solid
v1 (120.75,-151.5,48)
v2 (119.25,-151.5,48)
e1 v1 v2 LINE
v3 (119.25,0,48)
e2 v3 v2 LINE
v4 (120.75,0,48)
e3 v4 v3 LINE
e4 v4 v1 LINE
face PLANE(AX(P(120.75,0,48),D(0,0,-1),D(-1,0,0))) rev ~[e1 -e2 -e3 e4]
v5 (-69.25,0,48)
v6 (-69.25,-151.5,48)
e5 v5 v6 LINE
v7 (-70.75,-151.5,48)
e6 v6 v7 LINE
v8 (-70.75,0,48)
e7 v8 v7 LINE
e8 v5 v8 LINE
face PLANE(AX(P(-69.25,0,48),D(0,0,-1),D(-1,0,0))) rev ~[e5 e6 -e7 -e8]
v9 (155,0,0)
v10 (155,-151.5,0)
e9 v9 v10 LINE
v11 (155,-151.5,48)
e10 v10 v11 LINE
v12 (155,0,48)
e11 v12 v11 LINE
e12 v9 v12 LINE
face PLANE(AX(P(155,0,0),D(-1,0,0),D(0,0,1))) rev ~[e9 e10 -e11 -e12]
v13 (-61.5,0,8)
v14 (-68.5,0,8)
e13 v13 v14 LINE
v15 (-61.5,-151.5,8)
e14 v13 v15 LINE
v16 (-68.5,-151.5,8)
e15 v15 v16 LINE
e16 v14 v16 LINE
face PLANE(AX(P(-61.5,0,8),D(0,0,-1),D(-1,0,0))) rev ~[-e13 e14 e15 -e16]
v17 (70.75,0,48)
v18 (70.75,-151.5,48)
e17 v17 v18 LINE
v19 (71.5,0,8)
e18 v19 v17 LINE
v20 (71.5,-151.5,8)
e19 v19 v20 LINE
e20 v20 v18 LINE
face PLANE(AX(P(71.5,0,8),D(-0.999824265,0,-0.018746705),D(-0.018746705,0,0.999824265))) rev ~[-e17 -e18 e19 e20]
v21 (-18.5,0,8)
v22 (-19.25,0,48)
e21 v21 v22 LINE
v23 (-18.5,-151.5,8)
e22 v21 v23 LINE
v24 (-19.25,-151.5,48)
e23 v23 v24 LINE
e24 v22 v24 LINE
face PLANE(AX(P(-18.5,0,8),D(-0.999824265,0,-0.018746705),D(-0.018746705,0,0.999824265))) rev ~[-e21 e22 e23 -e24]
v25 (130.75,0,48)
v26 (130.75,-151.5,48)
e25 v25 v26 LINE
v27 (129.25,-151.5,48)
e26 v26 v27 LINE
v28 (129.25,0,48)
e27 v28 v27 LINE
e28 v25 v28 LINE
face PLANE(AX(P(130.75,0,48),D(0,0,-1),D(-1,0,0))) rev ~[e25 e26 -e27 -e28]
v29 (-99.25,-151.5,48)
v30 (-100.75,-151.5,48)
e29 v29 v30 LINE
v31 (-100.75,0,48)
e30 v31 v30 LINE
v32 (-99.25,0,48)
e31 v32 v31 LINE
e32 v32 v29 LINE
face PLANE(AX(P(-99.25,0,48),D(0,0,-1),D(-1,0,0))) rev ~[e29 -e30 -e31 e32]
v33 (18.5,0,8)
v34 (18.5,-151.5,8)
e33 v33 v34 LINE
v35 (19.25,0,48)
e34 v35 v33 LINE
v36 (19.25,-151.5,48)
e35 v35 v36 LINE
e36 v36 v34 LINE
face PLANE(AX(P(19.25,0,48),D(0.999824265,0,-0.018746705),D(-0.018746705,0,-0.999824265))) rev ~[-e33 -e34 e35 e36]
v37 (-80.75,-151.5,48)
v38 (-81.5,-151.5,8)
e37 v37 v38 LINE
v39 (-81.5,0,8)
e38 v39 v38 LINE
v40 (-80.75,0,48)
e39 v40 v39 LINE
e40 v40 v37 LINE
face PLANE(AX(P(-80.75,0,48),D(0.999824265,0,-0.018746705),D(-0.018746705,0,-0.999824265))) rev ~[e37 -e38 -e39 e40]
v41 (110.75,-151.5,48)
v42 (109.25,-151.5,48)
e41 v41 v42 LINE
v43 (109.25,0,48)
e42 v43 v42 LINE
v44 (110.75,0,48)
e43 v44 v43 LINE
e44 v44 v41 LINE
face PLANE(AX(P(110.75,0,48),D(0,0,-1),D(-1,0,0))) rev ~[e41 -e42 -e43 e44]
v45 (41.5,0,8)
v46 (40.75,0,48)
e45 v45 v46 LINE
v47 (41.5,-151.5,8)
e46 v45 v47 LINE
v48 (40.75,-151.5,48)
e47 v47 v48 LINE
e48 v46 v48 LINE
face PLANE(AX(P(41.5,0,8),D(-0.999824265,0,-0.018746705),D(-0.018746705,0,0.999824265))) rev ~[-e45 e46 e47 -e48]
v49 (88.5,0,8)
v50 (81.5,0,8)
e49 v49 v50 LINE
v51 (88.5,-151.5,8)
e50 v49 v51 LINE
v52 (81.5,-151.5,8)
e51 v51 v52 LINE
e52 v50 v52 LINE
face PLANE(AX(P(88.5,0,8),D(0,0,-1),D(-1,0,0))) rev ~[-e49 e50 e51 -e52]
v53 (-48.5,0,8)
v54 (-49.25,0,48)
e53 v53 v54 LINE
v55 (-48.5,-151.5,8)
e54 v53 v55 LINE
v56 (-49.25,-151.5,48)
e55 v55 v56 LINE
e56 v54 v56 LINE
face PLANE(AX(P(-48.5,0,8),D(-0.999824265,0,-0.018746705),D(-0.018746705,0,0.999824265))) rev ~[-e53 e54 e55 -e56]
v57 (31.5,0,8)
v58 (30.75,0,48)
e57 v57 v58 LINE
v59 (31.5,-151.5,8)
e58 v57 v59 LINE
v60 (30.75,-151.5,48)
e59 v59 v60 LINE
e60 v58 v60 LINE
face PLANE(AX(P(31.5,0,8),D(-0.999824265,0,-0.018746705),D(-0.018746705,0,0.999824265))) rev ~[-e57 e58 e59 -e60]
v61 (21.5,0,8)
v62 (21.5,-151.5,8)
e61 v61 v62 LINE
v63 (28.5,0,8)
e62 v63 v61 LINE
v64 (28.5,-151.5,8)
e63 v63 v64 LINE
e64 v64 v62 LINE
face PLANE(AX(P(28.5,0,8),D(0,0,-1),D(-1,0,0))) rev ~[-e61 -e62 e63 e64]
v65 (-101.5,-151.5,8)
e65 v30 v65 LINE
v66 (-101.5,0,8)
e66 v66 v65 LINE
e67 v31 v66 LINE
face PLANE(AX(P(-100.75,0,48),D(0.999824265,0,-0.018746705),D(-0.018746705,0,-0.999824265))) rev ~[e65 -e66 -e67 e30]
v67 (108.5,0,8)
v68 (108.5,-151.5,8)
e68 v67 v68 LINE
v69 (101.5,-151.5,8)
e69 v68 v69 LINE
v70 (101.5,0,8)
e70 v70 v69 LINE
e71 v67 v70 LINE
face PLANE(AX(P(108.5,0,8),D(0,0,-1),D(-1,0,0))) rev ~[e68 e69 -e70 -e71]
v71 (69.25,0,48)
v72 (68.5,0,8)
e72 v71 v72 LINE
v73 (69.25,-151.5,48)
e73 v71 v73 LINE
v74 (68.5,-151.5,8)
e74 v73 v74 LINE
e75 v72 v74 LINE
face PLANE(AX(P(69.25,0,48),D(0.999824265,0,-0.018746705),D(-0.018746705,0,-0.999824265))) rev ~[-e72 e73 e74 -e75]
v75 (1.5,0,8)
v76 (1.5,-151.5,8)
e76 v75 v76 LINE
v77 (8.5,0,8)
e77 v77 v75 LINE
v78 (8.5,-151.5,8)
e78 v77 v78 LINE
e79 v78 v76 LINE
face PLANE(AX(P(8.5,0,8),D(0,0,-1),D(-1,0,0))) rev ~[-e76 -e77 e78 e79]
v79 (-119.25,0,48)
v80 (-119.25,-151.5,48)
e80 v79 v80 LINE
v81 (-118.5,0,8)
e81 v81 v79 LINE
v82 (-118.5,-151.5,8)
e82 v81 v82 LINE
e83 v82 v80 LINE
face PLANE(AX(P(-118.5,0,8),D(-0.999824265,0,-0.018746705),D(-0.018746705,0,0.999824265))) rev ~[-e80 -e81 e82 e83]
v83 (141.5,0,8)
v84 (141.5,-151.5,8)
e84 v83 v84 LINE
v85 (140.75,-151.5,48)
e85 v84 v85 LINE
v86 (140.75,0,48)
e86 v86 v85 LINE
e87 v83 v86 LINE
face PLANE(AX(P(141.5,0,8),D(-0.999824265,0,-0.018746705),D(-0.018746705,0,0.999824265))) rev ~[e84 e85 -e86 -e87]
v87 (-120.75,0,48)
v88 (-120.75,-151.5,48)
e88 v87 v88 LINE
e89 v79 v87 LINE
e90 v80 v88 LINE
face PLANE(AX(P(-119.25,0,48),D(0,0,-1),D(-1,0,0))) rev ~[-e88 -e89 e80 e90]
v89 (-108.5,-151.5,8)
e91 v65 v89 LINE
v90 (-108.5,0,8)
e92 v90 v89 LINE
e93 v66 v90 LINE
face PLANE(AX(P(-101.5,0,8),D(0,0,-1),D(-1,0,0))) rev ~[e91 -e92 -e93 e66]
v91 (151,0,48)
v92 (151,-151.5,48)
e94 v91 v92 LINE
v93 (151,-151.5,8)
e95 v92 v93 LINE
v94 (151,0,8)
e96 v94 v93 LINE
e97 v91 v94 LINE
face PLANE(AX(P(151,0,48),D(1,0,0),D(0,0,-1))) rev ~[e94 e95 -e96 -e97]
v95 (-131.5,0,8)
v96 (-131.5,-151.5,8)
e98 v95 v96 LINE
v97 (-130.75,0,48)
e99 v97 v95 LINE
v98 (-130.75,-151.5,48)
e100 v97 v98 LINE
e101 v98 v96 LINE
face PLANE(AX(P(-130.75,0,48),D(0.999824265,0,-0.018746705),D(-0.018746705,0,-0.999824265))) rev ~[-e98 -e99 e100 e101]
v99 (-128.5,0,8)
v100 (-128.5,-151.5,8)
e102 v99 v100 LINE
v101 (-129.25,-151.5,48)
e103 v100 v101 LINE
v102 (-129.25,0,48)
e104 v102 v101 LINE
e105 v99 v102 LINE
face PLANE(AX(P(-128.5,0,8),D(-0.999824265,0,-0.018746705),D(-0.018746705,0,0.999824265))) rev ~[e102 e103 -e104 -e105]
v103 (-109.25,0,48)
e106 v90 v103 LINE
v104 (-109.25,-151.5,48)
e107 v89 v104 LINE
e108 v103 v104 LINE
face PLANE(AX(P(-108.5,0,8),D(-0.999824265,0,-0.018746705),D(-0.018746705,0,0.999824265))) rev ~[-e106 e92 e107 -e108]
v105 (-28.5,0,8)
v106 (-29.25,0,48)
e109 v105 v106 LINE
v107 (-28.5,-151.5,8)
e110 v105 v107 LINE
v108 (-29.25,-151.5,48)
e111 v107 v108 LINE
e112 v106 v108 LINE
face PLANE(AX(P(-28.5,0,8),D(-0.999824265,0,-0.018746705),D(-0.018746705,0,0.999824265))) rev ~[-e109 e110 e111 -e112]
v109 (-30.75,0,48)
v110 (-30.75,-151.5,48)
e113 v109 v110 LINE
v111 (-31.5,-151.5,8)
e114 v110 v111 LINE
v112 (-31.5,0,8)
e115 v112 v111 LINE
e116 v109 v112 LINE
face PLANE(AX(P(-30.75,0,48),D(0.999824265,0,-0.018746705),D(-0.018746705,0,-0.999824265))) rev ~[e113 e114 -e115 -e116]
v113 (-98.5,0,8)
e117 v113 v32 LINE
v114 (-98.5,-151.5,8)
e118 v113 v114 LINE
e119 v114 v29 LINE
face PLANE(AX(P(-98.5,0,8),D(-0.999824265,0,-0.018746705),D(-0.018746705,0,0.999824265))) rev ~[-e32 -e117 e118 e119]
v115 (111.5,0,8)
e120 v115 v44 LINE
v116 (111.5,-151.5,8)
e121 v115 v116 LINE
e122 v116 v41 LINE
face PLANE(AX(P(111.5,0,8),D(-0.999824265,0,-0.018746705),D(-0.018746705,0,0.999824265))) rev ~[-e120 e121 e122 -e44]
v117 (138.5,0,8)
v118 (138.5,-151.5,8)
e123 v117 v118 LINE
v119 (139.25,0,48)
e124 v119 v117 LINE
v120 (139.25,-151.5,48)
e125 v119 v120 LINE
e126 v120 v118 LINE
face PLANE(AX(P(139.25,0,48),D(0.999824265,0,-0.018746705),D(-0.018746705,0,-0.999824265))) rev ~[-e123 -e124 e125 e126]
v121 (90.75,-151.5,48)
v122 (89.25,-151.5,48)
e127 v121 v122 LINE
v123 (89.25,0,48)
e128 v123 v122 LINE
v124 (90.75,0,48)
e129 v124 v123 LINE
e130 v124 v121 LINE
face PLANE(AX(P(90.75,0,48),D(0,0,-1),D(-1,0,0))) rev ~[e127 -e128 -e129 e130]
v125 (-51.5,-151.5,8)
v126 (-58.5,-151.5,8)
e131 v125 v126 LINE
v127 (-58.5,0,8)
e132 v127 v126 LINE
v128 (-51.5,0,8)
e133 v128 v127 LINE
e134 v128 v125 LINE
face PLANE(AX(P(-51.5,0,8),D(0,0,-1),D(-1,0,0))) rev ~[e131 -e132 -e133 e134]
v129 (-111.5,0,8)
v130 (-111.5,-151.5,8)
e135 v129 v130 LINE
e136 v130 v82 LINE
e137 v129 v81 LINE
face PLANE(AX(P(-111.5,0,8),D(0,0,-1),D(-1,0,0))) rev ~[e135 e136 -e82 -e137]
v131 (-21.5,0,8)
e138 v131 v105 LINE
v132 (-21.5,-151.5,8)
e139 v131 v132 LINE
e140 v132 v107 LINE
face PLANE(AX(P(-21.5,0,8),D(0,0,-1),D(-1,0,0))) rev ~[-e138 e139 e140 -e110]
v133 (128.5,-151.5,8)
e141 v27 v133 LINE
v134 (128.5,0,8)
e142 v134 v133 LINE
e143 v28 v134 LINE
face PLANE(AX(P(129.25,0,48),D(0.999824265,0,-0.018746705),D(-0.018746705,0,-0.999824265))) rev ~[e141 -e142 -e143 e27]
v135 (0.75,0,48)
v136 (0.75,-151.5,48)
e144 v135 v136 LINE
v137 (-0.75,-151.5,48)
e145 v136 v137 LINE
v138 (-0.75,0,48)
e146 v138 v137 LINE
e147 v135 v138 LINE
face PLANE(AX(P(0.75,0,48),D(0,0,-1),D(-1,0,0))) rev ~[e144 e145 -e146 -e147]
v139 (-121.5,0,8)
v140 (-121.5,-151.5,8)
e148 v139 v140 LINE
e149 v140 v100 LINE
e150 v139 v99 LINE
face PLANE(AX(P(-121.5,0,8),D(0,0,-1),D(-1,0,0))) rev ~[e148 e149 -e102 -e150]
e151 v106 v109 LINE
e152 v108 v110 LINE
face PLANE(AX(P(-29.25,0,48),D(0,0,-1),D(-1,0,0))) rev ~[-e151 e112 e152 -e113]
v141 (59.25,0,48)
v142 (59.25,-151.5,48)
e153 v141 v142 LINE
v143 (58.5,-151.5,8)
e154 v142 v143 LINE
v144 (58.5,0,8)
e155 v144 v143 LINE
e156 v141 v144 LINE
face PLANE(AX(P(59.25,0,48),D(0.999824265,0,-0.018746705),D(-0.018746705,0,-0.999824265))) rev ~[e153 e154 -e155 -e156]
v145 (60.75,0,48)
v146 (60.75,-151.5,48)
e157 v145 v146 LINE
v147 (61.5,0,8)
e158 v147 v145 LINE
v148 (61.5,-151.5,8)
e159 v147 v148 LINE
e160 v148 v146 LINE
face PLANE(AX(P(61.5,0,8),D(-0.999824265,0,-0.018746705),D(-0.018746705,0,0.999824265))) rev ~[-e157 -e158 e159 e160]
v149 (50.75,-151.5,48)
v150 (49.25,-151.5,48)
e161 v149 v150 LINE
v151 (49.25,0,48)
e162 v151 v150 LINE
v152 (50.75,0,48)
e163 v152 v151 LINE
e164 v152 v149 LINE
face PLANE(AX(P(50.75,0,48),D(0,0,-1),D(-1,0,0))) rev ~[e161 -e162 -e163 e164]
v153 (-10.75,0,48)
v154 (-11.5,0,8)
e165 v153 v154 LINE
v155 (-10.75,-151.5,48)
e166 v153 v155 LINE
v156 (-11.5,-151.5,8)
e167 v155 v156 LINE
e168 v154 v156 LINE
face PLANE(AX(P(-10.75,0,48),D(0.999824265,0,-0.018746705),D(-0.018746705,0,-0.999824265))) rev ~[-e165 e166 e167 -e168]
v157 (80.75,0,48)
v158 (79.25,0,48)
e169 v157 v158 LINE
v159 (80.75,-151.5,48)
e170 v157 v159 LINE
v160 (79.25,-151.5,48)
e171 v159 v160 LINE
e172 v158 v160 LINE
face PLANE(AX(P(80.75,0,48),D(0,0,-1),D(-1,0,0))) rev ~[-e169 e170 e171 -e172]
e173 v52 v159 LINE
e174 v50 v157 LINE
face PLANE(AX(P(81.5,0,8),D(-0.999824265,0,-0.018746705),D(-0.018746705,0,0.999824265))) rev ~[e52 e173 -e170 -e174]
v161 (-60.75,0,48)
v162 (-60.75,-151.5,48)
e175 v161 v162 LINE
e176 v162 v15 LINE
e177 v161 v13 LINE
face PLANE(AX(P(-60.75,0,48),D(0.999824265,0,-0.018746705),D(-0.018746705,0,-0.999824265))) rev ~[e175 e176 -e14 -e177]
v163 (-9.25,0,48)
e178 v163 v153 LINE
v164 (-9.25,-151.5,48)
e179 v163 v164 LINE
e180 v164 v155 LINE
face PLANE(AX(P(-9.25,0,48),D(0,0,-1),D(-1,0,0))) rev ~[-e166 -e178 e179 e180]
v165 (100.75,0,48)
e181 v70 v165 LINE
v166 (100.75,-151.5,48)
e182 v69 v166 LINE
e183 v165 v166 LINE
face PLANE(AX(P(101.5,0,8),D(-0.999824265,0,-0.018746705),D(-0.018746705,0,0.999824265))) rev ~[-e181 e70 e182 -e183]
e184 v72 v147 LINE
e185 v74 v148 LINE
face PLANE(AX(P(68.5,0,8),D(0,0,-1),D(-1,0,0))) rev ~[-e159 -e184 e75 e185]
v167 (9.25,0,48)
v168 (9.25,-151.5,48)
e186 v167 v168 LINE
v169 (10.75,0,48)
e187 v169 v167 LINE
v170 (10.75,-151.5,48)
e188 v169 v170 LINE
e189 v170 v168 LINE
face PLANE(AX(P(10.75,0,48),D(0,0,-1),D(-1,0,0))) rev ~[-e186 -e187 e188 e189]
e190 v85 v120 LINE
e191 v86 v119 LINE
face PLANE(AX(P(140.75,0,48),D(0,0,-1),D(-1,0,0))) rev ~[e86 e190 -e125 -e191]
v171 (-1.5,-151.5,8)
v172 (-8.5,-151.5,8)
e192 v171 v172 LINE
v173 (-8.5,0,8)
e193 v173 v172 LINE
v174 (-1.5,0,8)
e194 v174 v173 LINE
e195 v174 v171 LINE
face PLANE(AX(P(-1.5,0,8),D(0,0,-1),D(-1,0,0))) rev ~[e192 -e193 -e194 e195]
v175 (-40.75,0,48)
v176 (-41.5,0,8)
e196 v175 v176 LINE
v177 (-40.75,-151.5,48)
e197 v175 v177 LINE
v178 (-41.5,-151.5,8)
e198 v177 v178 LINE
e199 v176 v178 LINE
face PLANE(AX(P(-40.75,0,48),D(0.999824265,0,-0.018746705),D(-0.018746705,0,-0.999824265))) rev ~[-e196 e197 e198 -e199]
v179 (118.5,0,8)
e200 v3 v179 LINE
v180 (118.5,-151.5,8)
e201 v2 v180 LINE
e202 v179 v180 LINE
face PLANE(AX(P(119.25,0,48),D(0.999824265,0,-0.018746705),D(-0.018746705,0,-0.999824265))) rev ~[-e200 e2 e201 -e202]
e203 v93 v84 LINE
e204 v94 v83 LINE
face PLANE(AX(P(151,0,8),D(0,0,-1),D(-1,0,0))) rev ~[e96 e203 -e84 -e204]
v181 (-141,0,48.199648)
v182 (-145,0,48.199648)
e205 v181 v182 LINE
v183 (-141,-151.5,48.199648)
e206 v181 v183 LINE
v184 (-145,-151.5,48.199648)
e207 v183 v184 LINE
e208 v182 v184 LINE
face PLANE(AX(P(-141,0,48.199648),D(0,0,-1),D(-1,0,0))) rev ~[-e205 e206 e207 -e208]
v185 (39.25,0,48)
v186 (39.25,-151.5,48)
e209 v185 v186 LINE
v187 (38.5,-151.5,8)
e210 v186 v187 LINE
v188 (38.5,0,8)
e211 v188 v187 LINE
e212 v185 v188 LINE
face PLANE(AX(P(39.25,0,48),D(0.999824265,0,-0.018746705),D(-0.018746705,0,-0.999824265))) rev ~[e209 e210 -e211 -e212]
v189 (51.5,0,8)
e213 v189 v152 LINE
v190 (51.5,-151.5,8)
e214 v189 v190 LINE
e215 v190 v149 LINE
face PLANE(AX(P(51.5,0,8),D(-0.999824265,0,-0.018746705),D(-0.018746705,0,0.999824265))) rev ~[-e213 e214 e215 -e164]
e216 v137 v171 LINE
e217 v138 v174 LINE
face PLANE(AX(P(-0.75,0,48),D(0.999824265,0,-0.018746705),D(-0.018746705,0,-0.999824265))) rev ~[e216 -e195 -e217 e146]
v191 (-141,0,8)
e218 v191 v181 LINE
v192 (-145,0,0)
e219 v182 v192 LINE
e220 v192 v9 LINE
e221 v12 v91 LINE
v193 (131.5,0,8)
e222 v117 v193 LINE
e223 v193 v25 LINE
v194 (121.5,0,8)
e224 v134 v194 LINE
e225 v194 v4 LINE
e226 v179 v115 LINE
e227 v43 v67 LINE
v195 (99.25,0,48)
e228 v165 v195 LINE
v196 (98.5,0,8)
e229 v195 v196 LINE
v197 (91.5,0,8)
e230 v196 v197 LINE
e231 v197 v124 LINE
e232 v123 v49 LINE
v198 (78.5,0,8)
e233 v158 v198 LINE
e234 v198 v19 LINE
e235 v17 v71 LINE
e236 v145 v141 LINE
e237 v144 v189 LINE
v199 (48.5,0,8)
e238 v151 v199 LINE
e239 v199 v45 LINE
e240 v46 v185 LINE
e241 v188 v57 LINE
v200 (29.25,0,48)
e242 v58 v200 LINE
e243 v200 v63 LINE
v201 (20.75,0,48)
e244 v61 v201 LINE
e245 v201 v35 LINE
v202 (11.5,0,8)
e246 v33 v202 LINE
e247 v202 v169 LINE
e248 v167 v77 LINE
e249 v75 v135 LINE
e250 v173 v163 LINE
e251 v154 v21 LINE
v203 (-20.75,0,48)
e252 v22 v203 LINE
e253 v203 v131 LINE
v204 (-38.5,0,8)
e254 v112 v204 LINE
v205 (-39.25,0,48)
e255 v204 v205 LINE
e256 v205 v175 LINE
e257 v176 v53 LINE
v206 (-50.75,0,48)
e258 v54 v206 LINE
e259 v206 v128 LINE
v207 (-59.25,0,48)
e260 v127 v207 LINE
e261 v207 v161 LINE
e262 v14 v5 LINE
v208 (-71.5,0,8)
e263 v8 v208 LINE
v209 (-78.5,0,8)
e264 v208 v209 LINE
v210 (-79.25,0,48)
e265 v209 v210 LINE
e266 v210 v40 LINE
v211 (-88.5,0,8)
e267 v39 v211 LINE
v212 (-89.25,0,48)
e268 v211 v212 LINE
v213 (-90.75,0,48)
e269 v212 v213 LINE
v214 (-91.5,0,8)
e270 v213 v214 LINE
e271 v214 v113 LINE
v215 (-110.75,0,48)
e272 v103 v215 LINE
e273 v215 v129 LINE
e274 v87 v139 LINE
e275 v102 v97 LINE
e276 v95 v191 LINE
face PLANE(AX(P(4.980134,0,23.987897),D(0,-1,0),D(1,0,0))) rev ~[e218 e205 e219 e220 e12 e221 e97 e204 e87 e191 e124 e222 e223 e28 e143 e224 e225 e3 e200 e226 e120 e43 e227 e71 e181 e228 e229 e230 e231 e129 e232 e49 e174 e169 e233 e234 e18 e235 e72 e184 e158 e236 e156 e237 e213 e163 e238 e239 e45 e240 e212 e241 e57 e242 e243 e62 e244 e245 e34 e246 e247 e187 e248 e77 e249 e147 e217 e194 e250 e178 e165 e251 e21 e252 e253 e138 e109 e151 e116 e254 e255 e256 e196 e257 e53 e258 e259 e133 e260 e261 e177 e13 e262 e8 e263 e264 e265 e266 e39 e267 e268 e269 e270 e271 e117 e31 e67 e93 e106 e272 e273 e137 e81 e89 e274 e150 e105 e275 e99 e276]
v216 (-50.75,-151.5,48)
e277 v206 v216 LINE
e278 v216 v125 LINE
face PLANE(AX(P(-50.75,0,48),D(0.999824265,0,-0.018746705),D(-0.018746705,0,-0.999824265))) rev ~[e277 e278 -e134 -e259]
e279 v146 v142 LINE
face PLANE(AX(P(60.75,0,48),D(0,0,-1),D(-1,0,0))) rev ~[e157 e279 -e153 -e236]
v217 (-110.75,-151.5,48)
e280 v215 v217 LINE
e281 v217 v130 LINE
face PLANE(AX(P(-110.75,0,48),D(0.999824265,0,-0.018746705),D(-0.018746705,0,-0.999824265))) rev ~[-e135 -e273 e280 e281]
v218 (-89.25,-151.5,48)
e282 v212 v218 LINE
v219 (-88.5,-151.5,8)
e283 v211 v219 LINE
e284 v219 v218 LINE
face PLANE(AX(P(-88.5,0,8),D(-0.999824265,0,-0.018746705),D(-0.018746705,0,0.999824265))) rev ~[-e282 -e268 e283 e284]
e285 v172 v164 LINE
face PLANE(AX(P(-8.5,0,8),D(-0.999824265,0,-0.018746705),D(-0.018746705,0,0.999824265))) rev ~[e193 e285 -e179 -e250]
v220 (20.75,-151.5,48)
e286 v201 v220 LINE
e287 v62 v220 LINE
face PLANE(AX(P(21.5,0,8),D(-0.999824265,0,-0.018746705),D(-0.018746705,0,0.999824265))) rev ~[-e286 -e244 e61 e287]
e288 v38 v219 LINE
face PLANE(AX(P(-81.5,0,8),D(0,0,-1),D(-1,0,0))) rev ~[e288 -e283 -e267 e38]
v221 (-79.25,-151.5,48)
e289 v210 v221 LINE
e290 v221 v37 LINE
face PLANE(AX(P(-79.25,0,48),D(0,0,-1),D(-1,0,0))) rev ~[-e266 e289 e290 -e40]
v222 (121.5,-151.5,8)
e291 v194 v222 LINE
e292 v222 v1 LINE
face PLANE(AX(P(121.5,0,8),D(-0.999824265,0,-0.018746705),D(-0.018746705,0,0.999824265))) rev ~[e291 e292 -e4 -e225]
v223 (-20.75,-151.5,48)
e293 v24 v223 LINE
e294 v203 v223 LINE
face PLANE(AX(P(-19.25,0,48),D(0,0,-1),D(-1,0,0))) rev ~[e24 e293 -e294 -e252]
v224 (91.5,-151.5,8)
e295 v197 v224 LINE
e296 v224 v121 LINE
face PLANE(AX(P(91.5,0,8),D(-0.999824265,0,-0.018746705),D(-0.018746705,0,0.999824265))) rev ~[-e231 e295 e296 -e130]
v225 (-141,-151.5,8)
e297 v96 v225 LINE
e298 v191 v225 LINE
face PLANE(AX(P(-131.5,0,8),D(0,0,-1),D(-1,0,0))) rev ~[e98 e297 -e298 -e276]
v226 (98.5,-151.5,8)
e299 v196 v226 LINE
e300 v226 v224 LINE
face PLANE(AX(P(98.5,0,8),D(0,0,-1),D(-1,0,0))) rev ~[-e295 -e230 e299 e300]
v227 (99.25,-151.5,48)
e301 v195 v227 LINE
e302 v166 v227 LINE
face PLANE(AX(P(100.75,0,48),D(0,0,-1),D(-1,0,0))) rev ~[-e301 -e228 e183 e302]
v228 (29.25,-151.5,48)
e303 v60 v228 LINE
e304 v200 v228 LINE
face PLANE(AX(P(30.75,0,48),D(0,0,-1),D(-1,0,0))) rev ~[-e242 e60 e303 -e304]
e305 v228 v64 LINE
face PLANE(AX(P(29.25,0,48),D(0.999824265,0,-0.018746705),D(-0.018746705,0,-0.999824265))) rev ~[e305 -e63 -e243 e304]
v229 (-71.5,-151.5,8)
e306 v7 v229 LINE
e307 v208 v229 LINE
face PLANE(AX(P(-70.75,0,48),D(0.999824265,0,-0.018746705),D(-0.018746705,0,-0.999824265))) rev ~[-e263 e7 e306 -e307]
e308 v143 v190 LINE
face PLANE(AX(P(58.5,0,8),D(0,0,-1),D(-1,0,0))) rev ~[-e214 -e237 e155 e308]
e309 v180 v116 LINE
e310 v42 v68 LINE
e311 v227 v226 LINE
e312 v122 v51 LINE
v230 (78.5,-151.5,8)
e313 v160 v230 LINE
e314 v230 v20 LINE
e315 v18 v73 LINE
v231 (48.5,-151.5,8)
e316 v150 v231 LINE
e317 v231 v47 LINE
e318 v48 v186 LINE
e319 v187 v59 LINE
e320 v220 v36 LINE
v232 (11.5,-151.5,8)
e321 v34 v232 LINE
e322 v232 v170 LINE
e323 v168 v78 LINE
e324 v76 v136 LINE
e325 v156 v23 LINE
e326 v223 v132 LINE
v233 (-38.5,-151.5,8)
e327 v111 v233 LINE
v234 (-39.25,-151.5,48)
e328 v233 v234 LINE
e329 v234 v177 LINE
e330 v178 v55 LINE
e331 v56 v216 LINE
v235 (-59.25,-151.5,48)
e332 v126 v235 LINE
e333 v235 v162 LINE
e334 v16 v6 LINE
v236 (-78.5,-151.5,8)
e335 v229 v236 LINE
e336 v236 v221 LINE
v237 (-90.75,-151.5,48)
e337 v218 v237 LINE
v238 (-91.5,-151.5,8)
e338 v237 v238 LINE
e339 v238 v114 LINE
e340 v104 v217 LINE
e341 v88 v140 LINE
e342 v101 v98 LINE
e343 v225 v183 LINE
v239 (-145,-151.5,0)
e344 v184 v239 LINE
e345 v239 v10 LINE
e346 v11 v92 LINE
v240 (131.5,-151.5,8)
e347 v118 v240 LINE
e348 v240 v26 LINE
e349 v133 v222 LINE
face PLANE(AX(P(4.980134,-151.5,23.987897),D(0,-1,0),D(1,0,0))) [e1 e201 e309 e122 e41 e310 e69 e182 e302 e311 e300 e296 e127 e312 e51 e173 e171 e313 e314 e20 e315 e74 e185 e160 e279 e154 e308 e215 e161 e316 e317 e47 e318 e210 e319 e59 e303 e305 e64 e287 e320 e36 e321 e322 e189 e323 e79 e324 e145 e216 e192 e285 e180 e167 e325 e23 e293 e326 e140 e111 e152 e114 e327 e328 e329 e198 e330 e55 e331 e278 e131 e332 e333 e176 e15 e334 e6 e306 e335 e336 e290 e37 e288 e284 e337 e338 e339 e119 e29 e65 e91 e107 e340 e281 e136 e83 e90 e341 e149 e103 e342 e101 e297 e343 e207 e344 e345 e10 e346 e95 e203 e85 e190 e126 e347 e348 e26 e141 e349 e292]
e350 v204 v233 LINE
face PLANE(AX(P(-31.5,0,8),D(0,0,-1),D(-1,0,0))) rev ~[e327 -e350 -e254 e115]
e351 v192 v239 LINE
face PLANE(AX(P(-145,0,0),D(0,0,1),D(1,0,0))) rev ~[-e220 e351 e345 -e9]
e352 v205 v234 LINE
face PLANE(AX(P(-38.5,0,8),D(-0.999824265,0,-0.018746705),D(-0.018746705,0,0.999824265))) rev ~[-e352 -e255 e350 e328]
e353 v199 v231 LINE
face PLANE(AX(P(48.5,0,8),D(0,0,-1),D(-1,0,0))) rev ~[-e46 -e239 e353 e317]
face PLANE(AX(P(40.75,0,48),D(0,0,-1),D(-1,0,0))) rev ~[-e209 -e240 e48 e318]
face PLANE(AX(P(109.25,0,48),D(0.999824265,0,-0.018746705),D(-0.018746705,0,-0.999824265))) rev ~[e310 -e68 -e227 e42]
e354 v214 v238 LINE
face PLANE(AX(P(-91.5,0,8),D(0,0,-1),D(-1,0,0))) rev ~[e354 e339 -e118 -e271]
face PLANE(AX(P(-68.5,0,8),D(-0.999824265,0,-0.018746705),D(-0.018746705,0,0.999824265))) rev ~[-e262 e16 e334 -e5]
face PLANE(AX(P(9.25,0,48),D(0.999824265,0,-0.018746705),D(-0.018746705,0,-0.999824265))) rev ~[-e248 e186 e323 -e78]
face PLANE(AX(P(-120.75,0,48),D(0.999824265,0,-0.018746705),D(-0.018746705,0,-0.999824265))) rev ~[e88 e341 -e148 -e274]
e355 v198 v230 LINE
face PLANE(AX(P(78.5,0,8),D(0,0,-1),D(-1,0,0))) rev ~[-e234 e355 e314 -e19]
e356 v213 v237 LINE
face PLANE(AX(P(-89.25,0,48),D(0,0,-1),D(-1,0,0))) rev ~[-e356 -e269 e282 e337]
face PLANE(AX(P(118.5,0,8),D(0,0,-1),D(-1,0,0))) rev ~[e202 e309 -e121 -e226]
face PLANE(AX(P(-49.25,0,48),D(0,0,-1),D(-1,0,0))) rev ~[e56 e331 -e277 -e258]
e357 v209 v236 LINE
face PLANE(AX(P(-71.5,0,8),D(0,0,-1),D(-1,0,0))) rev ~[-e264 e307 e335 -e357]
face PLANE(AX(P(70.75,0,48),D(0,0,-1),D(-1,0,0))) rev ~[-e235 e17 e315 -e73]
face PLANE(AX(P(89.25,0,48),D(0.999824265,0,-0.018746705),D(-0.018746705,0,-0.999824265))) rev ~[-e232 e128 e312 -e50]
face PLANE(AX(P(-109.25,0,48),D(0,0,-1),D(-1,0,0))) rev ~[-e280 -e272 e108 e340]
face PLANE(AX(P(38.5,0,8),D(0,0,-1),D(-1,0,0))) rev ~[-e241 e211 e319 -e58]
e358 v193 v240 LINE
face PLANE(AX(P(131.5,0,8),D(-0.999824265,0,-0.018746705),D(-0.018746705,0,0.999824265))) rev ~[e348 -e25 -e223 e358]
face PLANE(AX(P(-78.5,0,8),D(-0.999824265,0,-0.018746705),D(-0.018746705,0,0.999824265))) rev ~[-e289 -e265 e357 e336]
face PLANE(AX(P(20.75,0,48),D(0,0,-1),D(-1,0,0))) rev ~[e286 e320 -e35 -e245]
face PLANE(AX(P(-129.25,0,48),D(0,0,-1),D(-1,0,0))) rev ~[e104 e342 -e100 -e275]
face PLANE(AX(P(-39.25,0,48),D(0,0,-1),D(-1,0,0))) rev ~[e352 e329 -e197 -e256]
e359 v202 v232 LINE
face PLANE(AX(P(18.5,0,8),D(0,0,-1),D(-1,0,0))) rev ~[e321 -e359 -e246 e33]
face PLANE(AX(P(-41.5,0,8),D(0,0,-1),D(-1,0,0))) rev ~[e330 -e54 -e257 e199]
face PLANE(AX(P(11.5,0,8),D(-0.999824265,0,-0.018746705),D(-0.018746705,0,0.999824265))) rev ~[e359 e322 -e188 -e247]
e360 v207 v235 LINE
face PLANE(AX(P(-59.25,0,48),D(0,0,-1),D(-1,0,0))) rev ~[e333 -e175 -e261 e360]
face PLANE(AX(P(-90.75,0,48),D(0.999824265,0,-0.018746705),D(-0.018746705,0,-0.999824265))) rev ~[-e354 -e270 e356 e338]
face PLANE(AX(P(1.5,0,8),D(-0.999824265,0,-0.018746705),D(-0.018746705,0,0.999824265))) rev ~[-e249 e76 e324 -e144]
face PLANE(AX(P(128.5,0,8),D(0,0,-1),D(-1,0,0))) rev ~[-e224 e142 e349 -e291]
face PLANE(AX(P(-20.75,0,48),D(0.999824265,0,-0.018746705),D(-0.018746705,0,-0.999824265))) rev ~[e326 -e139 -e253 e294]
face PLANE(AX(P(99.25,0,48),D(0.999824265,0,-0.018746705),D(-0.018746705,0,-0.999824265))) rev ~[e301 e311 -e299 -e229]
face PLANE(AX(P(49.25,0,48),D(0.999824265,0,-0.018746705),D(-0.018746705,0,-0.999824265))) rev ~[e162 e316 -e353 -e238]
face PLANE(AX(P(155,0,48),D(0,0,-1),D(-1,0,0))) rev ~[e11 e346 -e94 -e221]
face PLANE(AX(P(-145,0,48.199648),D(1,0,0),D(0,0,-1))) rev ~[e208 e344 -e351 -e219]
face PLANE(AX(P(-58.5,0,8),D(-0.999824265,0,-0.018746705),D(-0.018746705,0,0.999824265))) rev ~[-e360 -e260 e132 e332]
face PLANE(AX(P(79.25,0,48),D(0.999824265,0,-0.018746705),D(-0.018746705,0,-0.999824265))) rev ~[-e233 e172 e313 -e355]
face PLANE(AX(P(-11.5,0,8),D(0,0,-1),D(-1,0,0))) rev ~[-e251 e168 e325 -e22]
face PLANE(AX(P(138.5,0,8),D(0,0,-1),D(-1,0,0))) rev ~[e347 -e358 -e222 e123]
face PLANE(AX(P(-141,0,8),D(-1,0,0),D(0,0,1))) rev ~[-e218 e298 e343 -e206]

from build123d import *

# Parameters (mm, degrees)
F1_DEPTH = 151.5


with BuildPart() as f1:
    # F0 (on Front) → F1 (new body)
    with BuildSketch(Plane.XZ):
        Polygon((0.75, 48), (0, 48), (-0.75, 48), (-1.5, 8), (-8.5, 8), (-9.25, 48), (-10, 48), (-10.75, 48), (-11.5, 8), (-18.5, 8), (-19.25, 48), (-20, 48), (-20.75, 48), (-21.5, 8), (-28.5, 8), (-29.25, 48), (-30, 48), (-30.75, 48), (-31.5, 8), (-38.5, 8), (-39.25, 48), (-40, 48), (-40.75, 48), (-41.5, 8), (-48.5, 8), (-49.25, 48), (-50, 48), (-50.75, 48), (-51.5, 8), (-58.5, 8), (-59.25, 48), (-60, 48), (-60.75, 48), (-61.5, 8), (-68.5, 8), (-69.25, 48), (-70, 48), (-70.75, 48), (-71.5, 8), (-78.5, 8), (-79.25, 48), (-80, 48), (-80.75, 48), (-81.5, 8), (-88.5, 8), (-89.25, 48), (-90, 48), (-90.75, 48), (-91.5, 8), (-98.5, 8), (-99.25, 48), (-100, 48), (-100.75, 48), (-101.5, 8), (-108.5, 8), (-109.25, 48), (-110, 48), (-110.75, 48), (-111.5, 8), (-118.5, 8), (-119.25, 48), (-120, 48), (-120.75, 48), (-121.5, 8), (-128.5, 8), (-129.25, 48), (-130, 48), (-130.75, 48), (-131.5, 8), (-141, 8), (-141, 48.199648), (-145, 48.199648), (-145, 0), (155, 0), (155, 48), (151, 48), (151, 8), (141.5, 8), (140.75, 48), (140, 48), (139.25, 48), (138.5, 8), (131.5, 8), (130.75, 48), (130, 48), (129.25, 48), (128.5, 8), (121.5, 8), (120.75, 48), (120, 48), (119.25, 48), (118.5, 8), (111.5, 8), (110.75, 48), (110, 48), (109.25, 48), (108.5, 8), (101.5, 8), (100.75, 48), (100, 48), (99.25, 48), (98.5, 8), (91.5, 8), (90.75, 48), (90, 48), (89.25, 48), (88.5, 8), (81.5, 8), (80.75, 48), (80, 48), (79.25, 48), (78.5, 8), (71.5, 8), (70.75, 48), (70, 48), (69.25, 48), (68.5, 8), (61.5, 8), (60.75, 48), (60, 48), (59.25, 48), (58.5, 8), (51.5, 8), (50.75, 48), (50, 48), (49.25, 48), (48.5, 8), (41.5, 8), (40.75, 48), (40, 48), (39.25, 48), (38.5, 8), (31.5, 8), (30.75, 48), (30, 48), (29.25, 48), (28.5, 8), (21.5, 8), (20.75, 48), (20, 48), (19.25, 48), (18.5, 8), (11.5, 8), (10.75, 48), (10, 48), (9.25, 48), (8.5, 8), (1.5, 8), align=None)
    extrude(amount=F1_DEPTH)


solid = f1.part
